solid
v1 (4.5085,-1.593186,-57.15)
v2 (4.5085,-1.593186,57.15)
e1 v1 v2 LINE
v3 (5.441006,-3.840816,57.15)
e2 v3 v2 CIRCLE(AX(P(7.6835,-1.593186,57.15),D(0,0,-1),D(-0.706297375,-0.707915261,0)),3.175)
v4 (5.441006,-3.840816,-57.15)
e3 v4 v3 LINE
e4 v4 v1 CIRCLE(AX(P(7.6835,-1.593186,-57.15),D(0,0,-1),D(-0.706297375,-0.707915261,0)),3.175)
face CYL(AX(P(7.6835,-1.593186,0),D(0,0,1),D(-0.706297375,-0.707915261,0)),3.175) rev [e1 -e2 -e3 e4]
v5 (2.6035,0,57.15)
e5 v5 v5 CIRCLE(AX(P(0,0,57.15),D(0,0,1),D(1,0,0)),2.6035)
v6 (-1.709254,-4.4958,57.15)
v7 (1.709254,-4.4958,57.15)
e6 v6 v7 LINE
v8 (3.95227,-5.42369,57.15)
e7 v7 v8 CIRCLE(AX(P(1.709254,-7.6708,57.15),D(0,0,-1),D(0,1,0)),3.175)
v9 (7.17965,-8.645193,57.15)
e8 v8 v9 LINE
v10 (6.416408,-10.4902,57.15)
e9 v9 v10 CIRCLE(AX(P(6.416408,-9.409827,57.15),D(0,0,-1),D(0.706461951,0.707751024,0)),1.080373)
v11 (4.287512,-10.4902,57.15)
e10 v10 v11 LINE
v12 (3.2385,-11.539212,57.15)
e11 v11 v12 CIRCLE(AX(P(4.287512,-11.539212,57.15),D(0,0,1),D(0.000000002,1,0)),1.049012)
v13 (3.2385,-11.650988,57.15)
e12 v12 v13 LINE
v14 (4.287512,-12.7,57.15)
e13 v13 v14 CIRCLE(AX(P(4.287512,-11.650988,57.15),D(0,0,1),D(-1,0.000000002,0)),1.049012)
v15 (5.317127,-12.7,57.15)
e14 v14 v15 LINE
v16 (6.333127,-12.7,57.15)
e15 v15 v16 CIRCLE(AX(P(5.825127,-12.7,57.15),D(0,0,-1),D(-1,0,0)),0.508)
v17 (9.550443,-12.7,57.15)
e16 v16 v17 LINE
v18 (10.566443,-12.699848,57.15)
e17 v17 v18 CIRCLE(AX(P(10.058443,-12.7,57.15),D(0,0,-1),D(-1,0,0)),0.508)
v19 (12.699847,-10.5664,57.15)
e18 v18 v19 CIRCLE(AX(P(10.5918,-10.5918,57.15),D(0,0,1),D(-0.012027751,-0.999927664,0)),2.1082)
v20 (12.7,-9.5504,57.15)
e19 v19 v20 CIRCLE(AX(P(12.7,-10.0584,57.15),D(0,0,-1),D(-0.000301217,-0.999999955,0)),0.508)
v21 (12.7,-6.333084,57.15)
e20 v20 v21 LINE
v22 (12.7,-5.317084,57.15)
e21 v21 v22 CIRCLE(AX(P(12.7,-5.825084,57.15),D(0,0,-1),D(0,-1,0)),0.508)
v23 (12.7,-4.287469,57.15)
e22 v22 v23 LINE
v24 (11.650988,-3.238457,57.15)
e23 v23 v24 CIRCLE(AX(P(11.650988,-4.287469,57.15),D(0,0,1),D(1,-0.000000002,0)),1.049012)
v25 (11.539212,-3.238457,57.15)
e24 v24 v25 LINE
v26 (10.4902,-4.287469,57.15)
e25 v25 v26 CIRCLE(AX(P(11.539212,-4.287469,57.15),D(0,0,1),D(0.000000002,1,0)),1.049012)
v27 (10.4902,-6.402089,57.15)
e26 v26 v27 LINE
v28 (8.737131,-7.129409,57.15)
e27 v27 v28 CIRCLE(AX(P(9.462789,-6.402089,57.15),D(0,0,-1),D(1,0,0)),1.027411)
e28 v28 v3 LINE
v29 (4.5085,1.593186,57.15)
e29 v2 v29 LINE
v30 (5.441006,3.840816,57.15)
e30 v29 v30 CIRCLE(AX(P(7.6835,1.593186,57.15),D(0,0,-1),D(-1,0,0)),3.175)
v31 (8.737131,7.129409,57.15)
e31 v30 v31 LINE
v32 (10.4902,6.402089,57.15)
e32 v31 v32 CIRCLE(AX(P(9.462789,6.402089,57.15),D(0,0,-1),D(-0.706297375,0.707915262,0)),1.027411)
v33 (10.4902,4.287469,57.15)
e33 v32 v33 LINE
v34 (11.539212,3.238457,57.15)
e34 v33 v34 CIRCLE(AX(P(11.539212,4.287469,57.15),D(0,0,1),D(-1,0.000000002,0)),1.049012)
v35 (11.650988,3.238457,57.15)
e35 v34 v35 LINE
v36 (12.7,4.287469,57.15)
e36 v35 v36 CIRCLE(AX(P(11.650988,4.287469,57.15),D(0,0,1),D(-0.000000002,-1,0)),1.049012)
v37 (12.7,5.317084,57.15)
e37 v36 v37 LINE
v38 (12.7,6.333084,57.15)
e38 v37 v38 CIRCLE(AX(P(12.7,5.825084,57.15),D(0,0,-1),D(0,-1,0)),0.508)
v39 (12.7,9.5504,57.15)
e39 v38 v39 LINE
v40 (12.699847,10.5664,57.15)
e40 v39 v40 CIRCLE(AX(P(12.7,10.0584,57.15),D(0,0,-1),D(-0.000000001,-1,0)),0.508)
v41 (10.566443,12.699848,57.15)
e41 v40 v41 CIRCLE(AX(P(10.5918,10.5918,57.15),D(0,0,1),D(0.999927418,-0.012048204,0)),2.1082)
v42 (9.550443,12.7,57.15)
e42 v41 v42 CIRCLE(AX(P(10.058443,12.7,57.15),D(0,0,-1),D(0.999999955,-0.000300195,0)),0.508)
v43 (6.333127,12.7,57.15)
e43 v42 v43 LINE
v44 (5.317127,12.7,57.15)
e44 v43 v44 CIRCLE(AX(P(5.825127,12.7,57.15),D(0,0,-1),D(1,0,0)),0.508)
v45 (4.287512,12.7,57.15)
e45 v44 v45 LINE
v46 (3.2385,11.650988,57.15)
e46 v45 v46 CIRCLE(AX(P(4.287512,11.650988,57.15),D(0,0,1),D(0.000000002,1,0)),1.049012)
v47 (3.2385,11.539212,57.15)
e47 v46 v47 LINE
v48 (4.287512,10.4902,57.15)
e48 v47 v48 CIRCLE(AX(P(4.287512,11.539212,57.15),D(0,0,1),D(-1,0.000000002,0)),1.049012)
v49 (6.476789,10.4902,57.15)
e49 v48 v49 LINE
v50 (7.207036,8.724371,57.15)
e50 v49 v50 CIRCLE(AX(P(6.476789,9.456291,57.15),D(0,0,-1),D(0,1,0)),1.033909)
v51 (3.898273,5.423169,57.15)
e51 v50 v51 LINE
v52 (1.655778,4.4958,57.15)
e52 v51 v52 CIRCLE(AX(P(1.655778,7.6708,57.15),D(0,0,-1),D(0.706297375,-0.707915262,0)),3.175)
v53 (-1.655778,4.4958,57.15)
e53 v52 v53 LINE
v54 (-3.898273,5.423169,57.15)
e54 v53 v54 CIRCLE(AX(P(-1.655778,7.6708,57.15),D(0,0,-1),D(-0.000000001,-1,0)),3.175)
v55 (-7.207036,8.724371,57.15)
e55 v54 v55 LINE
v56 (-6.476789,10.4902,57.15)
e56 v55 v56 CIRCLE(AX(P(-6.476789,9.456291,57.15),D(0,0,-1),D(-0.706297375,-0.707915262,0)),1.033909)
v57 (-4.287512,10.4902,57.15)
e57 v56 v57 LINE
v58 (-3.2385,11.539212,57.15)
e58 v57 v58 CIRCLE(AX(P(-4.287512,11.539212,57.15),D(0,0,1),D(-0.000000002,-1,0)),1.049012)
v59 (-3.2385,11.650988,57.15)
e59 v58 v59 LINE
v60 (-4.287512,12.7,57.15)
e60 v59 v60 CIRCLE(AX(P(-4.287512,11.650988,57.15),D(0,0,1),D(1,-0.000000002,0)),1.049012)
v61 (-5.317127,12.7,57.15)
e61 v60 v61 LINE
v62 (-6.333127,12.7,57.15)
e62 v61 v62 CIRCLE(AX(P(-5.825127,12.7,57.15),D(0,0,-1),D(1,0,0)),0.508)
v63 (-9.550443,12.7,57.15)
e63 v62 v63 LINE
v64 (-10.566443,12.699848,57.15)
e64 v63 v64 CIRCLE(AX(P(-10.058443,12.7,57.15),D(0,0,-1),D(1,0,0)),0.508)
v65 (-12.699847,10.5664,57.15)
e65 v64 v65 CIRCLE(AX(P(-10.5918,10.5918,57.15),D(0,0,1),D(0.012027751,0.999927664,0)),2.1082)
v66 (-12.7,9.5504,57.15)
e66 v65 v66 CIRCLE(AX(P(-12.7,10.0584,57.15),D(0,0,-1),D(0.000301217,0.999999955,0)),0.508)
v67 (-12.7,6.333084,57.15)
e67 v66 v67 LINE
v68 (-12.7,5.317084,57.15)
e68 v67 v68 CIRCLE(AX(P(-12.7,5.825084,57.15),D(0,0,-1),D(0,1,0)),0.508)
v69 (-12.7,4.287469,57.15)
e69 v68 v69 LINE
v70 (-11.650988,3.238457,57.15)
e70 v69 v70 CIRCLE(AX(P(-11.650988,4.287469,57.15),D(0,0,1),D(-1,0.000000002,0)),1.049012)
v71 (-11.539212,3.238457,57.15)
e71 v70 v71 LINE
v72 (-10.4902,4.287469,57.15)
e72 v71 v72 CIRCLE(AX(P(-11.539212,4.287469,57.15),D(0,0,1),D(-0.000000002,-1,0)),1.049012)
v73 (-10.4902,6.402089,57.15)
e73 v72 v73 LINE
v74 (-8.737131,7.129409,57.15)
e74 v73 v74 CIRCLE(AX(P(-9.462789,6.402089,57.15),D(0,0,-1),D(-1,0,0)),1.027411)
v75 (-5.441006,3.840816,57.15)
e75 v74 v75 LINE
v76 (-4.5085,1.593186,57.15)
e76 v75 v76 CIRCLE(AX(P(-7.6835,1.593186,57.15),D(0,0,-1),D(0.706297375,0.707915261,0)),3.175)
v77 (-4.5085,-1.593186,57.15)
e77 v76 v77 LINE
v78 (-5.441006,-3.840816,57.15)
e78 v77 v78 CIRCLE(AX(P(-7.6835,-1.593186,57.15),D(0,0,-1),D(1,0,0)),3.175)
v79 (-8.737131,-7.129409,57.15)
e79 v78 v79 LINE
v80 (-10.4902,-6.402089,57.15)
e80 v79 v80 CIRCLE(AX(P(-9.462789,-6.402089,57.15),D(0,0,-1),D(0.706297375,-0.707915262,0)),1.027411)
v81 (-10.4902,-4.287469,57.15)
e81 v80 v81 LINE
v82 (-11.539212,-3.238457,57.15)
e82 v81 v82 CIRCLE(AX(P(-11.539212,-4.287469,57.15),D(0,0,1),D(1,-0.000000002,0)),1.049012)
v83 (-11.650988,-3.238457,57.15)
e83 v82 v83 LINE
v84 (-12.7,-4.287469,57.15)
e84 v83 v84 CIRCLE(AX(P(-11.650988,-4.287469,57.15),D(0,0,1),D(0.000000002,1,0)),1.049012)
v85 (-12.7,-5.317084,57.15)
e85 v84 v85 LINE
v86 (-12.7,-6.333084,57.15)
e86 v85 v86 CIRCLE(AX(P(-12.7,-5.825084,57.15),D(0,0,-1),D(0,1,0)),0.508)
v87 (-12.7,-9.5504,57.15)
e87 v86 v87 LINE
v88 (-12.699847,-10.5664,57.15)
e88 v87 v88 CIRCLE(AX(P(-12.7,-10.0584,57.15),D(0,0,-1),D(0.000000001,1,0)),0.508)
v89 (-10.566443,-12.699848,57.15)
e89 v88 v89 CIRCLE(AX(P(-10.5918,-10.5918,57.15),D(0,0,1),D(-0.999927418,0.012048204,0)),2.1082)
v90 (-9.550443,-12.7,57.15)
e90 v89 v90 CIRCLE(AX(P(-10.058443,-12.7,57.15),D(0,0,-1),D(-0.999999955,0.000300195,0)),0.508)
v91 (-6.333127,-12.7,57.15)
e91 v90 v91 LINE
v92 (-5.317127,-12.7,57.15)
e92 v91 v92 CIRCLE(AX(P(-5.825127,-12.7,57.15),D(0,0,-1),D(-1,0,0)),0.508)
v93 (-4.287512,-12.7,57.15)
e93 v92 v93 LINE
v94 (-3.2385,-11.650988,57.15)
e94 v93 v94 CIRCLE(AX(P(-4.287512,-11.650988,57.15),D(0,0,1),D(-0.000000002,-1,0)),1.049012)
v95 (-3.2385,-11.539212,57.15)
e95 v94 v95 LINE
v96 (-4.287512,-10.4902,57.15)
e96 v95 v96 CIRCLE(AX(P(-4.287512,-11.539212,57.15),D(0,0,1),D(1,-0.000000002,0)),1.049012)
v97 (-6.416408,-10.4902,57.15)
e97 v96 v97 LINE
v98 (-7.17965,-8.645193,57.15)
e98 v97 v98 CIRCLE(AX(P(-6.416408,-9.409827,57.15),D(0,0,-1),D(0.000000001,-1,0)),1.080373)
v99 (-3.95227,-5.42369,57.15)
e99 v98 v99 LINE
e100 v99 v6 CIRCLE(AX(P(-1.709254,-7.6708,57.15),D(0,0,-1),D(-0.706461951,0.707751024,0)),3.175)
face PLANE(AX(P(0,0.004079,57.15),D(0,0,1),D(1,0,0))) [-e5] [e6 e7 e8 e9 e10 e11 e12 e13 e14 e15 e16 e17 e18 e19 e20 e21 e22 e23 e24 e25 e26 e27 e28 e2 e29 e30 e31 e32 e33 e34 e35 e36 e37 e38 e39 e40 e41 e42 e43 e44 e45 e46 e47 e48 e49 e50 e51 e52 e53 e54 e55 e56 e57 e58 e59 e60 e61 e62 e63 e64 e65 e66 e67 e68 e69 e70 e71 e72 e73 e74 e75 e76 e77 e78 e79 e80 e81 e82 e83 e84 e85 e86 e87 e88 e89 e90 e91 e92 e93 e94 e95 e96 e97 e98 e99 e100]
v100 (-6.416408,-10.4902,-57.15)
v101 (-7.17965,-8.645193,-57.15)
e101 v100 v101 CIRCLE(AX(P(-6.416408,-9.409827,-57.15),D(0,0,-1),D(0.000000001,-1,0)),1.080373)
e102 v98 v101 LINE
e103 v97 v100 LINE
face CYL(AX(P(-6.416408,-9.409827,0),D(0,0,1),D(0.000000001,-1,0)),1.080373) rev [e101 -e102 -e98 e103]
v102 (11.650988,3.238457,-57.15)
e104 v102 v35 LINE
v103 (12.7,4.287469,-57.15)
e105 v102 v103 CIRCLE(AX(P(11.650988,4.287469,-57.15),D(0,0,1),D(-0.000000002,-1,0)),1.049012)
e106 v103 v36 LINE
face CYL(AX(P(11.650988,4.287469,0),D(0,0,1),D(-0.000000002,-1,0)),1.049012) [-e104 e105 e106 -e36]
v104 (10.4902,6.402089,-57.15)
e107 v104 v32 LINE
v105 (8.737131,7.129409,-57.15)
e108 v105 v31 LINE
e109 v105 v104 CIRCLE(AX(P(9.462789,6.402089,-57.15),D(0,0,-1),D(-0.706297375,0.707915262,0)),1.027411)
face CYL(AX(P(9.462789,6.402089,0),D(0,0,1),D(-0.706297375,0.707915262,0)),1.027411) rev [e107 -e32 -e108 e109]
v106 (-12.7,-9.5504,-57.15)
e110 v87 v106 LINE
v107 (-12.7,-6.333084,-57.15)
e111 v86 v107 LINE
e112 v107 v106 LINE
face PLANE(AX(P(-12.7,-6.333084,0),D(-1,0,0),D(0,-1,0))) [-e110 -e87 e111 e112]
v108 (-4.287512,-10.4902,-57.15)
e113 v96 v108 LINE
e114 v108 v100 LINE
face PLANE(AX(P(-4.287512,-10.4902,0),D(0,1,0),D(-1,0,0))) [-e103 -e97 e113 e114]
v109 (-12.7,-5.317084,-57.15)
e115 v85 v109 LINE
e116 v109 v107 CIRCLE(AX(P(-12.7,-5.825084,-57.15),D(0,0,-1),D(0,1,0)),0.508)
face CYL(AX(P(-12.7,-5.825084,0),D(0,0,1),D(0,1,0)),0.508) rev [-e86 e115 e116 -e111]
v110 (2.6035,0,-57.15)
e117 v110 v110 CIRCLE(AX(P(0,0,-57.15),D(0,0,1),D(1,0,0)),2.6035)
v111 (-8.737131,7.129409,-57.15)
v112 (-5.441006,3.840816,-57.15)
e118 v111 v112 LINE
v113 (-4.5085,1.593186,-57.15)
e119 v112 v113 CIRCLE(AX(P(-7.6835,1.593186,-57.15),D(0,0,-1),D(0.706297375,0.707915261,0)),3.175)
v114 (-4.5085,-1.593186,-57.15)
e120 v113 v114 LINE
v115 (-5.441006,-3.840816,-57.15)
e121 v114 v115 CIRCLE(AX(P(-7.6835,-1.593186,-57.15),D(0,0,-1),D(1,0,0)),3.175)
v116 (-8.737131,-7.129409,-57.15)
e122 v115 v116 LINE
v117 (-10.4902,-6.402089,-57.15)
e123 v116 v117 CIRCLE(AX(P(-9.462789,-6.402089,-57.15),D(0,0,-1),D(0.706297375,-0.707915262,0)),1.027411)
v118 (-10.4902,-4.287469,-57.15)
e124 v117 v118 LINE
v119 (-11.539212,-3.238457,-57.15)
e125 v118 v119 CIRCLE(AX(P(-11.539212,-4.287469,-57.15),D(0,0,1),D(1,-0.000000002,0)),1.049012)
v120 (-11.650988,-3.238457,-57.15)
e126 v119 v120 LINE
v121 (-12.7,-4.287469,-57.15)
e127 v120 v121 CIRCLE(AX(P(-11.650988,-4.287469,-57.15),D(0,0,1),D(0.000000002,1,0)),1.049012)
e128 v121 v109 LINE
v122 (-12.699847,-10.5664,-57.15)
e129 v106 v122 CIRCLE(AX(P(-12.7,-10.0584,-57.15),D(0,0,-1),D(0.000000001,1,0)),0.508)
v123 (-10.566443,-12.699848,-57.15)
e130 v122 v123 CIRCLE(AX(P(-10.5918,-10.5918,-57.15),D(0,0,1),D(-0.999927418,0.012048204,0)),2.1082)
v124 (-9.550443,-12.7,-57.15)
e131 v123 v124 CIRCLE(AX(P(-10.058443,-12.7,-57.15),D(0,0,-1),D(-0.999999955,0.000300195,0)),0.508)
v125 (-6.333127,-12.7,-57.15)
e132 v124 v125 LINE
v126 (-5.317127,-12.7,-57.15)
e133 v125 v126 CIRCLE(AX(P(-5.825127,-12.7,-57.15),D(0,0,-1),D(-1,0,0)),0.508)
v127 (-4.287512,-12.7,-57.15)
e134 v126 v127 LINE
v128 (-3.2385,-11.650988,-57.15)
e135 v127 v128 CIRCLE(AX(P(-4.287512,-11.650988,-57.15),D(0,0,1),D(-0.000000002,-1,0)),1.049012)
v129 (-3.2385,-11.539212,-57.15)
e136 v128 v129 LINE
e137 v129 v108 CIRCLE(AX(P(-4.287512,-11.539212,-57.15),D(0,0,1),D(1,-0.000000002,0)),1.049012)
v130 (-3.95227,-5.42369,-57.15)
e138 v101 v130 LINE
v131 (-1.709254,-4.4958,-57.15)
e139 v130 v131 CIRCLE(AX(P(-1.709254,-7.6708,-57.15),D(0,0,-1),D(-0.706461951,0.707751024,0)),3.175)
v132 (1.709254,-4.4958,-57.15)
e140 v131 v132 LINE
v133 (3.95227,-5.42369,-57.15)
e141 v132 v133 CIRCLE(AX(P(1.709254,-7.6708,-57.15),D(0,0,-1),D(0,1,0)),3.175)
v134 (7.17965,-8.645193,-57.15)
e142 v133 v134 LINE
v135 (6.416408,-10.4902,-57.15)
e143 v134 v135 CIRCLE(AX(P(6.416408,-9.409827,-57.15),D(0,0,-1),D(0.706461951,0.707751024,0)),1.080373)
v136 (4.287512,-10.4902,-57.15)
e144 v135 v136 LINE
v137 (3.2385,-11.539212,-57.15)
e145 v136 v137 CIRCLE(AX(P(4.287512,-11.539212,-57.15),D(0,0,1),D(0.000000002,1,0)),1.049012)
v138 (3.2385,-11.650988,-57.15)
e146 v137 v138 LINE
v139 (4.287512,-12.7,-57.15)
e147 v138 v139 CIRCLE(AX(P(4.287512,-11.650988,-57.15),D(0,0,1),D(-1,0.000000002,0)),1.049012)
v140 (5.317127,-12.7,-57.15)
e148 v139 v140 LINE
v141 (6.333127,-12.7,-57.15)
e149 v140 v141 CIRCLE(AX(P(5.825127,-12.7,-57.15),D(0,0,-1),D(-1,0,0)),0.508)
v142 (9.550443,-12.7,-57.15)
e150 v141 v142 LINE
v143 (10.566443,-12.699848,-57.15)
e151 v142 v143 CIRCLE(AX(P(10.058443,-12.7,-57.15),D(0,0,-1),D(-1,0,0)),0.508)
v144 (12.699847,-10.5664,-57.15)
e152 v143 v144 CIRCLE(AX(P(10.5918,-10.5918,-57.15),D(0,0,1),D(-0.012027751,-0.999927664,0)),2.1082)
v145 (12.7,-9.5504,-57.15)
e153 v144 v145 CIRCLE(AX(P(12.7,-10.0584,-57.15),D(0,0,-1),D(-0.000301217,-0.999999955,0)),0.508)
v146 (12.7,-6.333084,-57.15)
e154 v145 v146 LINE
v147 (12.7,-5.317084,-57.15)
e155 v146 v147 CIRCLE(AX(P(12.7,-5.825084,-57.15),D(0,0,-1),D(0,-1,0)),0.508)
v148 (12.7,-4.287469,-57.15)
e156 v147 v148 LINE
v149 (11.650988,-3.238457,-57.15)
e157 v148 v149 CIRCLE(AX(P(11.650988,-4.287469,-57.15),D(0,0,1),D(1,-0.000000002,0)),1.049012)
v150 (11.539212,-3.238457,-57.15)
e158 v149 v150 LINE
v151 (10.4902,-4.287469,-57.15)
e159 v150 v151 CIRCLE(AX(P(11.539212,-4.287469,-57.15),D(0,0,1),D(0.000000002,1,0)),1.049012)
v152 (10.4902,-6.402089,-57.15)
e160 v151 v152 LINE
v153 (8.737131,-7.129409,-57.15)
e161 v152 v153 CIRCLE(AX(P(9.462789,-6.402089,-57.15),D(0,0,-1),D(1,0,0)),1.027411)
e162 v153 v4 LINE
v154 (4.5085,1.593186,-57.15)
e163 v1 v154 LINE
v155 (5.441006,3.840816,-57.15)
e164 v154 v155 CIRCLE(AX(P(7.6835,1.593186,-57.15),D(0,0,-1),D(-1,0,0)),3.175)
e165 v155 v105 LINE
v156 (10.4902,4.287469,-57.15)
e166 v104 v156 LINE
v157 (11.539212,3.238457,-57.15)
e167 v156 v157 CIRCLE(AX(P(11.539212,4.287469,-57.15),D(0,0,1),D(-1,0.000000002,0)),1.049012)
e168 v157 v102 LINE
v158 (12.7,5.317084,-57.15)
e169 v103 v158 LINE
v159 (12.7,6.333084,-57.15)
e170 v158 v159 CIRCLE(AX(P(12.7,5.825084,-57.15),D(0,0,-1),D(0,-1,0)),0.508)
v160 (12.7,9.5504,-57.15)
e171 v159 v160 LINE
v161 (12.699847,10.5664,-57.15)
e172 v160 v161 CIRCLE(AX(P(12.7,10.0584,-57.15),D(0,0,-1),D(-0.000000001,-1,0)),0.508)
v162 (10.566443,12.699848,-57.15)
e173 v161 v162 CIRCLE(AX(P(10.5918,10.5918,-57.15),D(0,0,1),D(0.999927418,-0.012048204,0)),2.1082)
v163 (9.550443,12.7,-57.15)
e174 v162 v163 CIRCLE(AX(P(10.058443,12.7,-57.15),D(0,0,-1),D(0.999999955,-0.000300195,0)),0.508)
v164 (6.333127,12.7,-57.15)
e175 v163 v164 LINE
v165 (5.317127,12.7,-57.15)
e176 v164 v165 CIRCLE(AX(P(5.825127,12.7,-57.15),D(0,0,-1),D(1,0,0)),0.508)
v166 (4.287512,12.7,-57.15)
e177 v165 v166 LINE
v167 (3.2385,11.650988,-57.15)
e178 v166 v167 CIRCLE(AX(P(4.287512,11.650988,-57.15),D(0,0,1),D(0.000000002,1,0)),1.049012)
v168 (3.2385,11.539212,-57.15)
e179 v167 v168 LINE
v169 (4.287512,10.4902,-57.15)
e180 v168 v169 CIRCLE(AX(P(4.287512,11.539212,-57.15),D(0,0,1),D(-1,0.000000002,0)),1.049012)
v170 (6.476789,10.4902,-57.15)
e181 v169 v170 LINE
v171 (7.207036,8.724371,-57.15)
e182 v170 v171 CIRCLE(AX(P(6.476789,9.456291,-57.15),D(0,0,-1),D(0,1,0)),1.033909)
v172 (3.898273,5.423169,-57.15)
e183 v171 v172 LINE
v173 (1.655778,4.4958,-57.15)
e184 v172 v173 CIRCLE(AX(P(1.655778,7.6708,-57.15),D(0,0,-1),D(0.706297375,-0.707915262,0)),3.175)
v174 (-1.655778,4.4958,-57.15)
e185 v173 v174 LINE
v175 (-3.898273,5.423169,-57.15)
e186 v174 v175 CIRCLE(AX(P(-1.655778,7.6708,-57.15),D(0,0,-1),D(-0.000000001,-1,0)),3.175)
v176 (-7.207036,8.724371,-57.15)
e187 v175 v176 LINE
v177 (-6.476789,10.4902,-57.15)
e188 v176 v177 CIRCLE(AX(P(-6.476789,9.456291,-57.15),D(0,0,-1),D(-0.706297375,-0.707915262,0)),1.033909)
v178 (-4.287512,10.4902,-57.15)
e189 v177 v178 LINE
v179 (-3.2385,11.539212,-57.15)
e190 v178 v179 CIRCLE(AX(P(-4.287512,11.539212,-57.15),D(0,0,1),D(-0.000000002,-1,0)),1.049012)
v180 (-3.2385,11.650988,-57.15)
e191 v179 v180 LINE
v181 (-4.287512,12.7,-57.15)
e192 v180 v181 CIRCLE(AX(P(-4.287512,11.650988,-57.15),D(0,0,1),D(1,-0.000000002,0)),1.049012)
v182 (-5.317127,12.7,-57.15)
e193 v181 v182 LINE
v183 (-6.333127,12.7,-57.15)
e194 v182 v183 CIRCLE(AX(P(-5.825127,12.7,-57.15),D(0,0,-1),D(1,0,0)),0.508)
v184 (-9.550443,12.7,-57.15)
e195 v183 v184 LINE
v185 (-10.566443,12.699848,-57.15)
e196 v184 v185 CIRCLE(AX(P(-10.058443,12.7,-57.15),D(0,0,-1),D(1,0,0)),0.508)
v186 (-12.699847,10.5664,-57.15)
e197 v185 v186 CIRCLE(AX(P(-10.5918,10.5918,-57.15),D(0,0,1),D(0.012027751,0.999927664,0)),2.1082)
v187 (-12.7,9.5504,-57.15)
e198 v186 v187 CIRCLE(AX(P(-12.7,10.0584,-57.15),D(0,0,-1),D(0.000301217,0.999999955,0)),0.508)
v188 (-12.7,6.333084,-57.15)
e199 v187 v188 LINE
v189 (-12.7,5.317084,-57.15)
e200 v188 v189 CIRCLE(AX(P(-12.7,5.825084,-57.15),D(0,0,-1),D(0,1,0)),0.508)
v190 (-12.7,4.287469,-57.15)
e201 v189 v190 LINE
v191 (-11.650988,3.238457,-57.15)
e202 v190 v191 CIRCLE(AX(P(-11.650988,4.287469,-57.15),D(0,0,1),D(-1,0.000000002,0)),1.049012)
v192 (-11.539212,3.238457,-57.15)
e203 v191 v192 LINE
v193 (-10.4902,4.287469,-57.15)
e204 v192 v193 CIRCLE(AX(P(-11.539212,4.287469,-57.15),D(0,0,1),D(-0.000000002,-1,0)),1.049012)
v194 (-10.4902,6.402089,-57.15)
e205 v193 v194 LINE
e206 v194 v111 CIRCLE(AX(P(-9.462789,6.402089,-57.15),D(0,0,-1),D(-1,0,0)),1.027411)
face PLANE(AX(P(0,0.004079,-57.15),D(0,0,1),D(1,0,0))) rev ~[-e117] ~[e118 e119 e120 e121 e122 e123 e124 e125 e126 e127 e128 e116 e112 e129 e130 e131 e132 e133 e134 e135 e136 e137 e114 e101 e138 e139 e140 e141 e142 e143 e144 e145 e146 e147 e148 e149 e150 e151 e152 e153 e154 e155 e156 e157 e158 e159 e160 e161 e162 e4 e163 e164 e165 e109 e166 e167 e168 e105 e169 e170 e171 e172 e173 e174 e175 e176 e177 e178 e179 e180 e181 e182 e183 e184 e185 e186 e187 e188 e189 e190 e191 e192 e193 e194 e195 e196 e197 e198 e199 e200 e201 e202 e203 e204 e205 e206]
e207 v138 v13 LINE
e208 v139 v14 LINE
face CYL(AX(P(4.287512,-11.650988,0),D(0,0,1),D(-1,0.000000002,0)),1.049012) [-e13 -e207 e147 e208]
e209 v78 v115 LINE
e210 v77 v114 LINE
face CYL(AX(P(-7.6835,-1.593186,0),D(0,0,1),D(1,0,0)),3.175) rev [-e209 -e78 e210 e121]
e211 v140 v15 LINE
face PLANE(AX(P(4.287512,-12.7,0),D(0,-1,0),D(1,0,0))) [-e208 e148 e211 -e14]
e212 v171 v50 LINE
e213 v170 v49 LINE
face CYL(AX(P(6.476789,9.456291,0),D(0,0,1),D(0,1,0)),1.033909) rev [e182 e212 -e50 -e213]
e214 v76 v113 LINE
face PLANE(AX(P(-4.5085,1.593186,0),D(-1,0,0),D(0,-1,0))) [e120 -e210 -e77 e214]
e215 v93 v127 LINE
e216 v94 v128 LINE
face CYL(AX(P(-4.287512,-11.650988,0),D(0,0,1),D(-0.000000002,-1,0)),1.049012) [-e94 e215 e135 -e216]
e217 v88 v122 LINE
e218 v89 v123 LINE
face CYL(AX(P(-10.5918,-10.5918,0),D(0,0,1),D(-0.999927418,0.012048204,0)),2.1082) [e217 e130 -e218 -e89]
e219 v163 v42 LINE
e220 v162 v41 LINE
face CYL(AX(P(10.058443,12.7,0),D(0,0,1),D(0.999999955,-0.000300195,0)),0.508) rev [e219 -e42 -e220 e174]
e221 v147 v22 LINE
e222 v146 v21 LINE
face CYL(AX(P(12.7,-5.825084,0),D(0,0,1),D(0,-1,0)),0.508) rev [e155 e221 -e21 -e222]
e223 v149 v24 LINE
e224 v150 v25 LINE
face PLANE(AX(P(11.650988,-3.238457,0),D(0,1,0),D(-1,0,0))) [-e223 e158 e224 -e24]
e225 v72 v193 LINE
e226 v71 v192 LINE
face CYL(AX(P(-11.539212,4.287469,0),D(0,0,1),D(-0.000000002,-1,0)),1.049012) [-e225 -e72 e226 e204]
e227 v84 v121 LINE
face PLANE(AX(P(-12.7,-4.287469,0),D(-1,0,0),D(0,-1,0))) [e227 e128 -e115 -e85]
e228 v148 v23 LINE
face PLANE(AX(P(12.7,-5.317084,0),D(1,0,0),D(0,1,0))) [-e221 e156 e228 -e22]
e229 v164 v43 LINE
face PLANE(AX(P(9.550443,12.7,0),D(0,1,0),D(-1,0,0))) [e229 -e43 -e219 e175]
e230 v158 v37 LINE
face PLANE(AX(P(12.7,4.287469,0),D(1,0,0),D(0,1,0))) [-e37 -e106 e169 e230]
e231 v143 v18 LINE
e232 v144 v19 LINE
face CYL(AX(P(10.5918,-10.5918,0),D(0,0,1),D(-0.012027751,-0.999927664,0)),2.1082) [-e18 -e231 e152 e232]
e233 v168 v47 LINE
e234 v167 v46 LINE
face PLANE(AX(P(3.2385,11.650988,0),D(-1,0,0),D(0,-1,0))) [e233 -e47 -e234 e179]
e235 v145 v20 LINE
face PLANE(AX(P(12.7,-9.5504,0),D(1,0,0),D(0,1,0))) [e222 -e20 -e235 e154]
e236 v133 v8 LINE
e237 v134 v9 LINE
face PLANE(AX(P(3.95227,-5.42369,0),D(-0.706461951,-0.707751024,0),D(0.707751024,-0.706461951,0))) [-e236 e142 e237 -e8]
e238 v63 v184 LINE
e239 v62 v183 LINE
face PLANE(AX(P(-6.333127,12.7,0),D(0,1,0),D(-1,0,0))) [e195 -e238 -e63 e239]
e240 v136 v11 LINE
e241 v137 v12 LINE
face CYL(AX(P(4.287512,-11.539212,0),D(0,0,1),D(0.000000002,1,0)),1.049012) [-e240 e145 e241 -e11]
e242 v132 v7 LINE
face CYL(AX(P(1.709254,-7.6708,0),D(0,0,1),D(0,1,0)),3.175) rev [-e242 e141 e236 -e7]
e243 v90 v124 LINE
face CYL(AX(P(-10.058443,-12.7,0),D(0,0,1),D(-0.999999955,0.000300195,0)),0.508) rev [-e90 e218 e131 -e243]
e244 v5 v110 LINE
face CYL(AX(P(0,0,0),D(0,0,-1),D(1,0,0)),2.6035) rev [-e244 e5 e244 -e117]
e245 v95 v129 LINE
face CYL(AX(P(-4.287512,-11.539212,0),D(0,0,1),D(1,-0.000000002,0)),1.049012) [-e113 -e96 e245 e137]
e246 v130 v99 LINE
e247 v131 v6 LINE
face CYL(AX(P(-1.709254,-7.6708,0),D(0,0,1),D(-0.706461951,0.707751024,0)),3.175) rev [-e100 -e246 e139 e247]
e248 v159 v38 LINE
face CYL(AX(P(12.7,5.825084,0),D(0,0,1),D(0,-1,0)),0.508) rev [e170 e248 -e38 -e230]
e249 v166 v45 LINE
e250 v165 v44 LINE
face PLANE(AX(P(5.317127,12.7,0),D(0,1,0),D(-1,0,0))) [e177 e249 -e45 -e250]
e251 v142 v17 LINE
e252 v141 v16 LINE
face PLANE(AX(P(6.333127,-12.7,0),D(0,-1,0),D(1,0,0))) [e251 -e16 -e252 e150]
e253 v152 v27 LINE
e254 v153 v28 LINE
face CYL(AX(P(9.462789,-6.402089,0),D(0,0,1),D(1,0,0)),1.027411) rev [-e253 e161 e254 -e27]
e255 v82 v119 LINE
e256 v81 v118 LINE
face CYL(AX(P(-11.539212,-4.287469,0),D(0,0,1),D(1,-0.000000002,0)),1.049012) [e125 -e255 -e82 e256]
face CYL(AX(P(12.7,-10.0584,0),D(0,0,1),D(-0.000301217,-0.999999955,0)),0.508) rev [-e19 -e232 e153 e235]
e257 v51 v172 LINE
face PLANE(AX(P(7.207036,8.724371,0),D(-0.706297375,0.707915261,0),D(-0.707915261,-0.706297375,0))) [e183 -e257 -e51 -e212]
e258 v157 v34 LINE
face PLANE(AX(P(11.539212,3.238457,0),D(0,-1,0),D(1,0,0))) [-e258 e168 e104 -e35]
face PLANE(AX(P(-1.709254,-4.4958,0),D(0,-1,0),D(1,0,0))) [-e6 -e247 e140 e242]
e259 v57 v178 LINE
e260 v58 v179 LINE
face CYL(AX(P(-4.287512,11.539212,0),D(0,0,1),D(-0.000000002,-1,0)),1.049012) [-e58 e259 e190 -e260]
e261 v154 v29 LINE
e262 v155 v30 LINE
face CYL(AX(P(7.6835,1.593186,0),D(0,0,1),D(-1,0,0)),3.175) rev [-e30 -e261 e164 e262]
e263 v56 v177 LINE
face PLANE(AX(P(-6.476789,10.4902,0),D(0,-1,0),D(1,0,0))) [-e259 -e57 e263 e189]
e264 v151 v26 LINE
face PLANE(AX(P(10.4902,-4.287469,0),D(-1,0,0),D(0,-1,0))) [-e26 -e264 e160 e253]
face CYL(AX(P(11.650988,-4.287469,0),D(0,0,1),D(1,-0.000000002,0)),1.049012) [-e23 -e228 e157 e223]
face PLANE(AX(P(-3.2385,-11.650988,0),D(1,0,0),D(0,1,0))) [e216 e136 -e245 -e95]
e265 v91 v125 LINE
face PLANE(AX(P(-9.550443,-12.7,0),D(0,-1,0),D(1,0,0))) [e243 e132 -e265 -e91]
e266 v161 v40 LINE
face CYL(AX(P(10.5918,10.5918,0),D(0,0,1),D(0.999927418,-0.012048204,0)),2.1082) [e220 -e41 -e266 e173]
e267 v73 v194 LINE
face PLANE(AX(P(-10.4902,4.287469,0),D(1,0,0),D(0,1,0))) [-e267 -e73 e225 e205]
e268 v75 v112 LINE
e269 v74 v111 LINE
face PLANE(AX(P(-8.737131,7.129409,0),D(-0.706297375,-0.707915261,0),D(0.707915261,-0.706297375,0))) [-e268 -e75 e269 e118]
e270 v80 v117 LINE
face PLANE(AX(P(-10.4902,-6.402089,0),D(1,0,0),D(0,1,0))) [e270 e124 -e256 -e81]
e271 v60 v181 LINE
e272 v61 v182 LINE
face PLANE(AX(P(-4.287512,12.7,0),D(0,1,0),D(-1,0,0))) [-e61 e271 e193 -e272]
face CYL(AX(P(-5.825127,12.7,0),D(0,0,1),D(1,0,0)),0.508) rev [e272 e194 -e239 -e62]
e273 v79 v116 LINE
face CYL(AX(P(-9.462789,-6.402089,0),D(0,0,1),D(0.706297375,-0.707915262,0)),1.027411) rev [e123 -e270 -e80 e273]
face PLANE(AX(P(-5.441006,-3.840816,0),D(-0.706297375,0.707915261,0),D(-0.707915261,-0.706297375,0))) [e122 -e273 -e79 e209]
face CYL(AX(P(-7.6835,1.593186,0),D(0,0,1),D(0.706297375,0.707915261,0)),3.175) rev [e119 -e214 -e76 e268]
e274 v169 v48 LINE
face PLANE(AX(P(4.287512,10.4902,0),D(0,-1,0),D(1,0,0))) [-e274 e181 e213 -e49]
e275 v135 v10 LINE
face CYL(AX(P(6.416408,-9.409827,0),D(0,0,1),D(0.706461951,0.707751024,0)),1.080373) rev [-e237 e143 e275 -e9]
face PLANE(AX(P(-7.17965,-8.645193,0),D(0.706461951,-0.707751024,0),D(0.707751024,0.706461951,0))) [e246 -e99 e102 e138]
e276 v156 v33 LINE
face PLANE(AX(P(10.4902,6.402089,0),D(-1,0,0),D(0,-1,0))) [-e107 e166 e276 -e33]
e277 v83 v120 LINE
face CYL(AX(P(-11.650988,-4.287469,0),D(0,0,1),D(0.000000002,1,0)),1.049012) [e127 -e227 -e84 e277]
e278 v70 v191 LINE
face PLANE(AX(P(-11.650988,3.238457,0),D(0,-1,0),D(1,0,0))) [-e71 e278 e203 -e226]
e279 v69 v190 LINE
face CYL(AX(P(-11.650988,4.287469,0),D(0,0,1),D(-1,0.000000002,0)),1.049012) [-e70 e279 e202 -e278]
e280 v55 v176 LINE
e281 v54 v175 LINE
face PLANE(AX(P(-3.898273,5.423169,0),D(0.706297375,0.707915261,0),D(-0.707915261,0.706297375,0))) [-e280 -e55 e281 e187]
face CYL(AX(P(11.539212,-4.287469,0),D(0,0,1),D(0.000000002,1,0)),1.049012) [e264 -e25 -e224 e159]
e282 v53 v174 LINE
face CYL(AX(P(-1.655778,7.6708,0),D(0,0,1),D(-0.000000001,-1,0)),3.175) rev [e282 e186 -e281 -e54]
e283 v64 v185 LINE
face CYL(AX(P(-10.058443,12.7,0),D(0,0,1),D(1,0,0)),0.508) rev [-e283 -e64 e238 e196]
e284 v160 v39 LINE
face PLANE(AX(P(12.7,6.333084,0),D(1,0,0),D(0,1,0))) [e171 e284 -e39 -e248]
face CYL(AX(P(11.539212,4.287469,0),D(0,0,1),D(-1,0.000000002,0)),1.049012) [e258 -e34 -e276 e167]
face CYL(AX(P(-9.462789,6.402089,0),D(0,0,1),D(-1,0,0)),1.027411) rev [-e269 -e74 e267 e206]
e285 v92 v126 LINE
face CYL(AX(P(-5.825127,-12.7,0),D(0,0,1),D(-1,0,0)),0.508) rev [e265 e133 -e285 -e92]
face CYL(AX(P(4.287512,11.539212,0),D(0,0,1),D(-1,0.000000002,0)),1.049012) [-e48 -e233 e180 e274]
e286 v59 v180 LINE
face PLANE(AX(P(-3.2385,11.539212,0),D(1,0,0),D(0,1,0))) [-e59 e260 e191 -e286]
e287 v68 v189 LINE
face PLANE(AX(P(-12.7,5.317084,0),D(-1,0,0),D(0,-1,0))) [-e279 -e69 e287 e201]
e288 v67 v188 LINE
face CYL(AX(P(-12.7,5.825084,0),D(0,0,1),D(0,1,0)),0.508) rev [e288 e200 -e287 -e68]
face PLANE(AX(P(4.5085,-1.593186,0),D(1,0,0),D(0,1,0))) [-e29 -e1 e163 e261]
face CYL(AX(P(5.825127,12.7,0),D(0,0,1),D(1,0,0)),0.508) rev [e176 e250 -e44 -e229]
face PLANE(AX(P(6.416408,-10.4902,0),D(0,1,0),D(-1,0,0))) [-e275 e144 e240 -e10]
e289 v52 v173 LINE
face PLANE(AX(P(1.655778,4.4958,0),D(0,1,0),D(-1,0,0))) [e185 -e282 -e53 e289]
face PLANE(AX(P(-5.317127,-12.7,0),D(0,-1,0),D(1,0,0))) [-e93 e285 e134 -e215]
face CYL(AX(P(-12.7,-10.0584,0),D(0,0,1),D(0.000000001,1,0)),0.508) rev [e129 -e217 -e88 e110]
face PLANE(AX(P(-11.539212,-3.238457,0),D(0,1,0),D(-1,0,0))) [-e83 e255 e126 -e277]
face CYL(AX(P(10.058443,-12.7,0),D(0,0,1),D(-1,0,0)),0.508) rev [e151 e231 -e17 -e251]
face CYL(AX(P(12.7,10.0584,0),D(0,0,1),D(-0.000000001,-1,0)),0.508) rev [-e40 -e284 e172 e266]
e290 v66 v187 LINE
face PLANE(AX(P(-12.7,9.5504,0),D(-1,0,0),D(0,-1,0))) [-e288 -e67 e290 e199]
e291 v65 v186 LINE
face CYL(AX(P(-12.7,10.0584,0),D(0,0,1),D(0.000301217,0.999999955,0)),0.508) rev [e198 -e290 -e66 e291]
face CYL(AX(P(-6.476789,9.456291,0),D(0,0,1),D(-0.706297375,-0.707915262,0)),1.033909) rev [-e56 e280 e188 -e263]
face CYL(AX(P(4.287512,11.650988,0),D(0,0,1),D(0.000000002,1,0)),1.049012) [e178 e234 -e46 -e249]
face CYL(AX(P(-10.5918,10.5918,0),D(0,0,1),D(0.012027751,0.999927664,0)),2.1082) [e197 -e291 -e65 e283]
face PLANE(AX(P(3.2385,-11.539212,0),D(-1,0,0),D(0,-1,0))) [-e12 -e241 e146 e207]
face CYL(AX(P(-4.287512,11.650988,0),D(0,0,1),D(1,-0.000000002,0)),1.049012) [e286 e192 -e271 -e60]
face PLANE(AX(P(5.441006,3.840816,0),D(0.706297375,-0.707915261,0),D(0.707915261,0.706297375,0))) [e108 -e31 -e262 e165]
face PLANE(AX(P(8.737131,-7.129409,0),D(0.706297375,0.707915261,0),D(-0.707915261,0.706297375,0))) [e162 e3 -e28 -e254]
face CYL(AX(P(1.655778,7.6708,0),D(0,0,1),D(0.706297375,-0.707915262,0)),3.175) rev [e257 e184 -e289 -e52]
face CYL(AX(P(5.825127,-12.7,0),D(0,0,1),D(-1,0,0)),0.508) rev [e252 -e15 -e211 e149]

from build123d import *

# Parameters (mm, degrees)
SKETCH1_R           = 2.6035
BOSS_EXTRUDE1_DEPTH = 57.15


with BuildPart() as part:
    # Sketch1 → Boss-Extrude1 (new body, symmetric)
    with BuildSketch(Plane.XY):
        with BuildLine():
            Line((-7.179650497, -8.645192506), (-3.952270251, -5.423690499))
            ThreePointArc((-3.952270251, -5.423690499), (-2.922936451, -4.736929036), (-1.709253557, -4.4958))
            Line((-1.709253557, -4.4958), (1.709253557, -4.4958))
            ThreePointArc((1.709253557, -4.4958), (2.922936451, -4.736929036), (3.952270251, -5.423690499))
            Line((3.952270251, -5.423690499), (7.179650497, -8.645192506))
            ThreePointArc((7.179650497, -8.645192506), (7.41473083, -9.822813117), (6.416408329, -10.4902))
            Line((6.416408329, -10.4902), (4.287512407, -10.4902))
            ThreePointArc((4.287512407, -10.4902), (3.54574862, -10.79744862), (3.2385, -11.539212407))
            Line((3.2385, -11.539212407), (3.2385, -11.650987593))
            ThreePointArc((3.2385, -11.650987593), (3.54574862, -12.39275138), (4.287512407, -12.7))
            Line((4.287512407, -12.7), (5.317126718, -12.7))
            ThreePointArc((5.317126718, -12.7), (5.825126718, -12.192), (6.333126718, -12.7))
            Line((6.333126718, -12.7), (9.550443118, -12.7))
            ThreePointArc((9.550443118, -12.7), (10.058366869, -12.192000006), (10.566443095, -12.699847501))
            ThreePointArc((10.566443095, -12.699847501), (12.082537762, -12.08250727), (12.699846982, -10.566399977))
            ThreePointArc((12.699846982, -10.566399977), (12.192000006, -10.058323491), (12.7, -9.5504))
            Line((12.7, -9.5504), (12.7, -6.3330836))
            ThreePointArc((12.7, -6.3330836), (12.192, -5.8250836), (12.7, -5.3170836))
            Line((12.7, -5.3170836), (12.7, -4.287469289))
            ThreePointArc((12.7, -4.287469289), (12.39275138, -3.545705502), (11.650987593, -3.238456882))
            Line((11.650987593, -3.238456882), (11.539212407, -3.238456882))
            ThreePointArc((11.539212407, -3.238456882), (10.79744862, -3.545705502), (10.4902, -4.287469289))
            Line((10.4902, -4.287469289), (10.4902, -6.402089023))
            ThreePointArc((10.4902, -6.402089023), (9.856505071, -7.351067942), (8.737131347, -7.129408934))
            Line((8.737131347, -7.129408934), (5.441005833, -3.840816462))
            ThreePointArc((5.441005833, -3.840816462), (4.750877967, -2.809883091), (4.5085, -1.593185507))
            Line((4.5085, -1.593185507), (4.5085, 1.593185507))
            ThreePointArc((4.5085, 1.593185507), (4.750877967, 2.809883091), (5.441005833, 3.840816462))
            Line((5.441005833, 3.840816462), (8.737131347, 7.129408934))
            ThreePointArc((8.737131347, 7.129408934), (9.856505071, 7.351067942), (10.4902, 6.402089023))
            Line((10.4902, 6.402089023), (10.4902, 4.287469289))
            ThreePointArc((10.4902, 4.287469289), (10.79744862, 3.545705502), (11.539212407, 3.238456882))
            Line((11.539212407, 3.238456882), (11.650987593, 3.238456882))
            ThreePointArc((11.650987593, 3.238456882), (12.39275138, 3.545705502), (12.7, 4.287469289))
            Line((12.7, 4.287469289), (12.7, 5.3170836))
            ThreePointArc((12.7, 5.3170836), (12.192, 5.8250836), (12.7, 6.3330836))
            Line((12.7, 6.3330836), (12.7, 9.5504))
            ThreePointArc((12.7, 9.5504), (12.192000006, 10.058323491), (12.699846982, 10.566399977))
            ThreePointArc((12.699846982, 10.566399977), (12.082537762, 12.08250727), (10.566443095, 12.699847501))
            ThreePointArc((10.566443095, 12.699847501), (10.058366869, 12.192000006), (9.550443118, 12.7))
            Line((9.550443118, 12.7), (6.333126718, 12.7))
            ThreePointArc((6.333126718, 12.7), (5.825126718, 12.192), (5.317126718, 12.7))
            Line((5.317126718, 12.7), (4.287512407, 12.7))
            ThreePointArc((4.287512407, 12.7), (3.54574862, 12.39275138), (3.2385, 11.650987593))
            Line((3.2385, 11.650987593), (3.2385, 11.539212407))
            ThreePointArc((3.2385, 11.539212407), (3.54574862, 10.79744862), (4.287512407, 10.4902))
            Line((4.287512407, 10.4902), (6.476788598, 10.4902))
            ThreePointArc((6.476788598, 10.4902), (7.432222385, 9.85140422), (7.207036008, 8.724370562))
            Line((7.207036008, 8.724370562), (3.898272566, 5.423169045))
            ThreePointArc((3.898272566, 5.423169045), (2.869120213, 4.736787962), (1.655778399, 4.4958))
            Line((1.655778399, 4.4958), (-1.655778399, 4.4958))
            ThreePointArc((-1.655778399, 4.4958), (-2.869120213, 4.736787962), (-3.898272566, 5.423169045))
            Line((-3.898272566, 5.423169045), (-7.207036008, 8.724370562))
            ThreePointArc((-7.207036008, 8.724370562), (-7.432222385, 9.85140422), (-6.476788598, 10.4902))
            Line((-6.476788598, 10.4902), (-4.287512407, 10.4902))
            ThreePointArc((-4.287512407, 10.4902), (-3.54574862, 10.79744862), (-3.2385, 11.539212407))
            Line((-3.2385, 11.539212407), (-3.2385, 11.650987593))
            ThreePointArc((-3.2385, 11.650987593), (-3.54574862, 12.39275138), (-4.287512407, 12.7))
            Line((-4.287512407, 12.7), (-5.317126718, 12.7))
            ThreePointArc((-5.317126718, 12.7), (-5.825126718, 12.192), (-6.333126718, 12.7))
            Line((-6.333126718, 12.7), (-9.550443118, 12.7))
            ThreePointArc((-9.550443118, 12.7), (-10.058366869, 12.192000006), (-10.566443095, 12.699847501))
            ThreePointArc((-10.566443095, 12.699847501), (-12.082537762, 12.08250727), (-12.699846982, 10.566399977))
            ThreePointArc((-12.699846982, 10.566399977), (-12.192000006, 10.058323491), (-12.7, 9.5504))
            Line((-12.7, 9.5504), (-12.7, 6.3330836))
            ThreePointArc((-12.7, 6.3330836), (-12.192, 5.8250836), (-12.7, 5.3170836))
            Line((-12.7, 5.3170836), (-12.7, 4.287469289))
            ThreePointArc((-12.7, 4.287469289), (-12.39275138, 3.545705502), (-11.650987593, 3.238456882))
            Line((-11.650987593, 3.238456882), (-11.539212407, 3.238456882))
            ThreePointArc((-11.539212407, 3.238456882), (-10.79744862, 3.545705502), (-10.4902, 4.287469289))
            Line((-10.4902, 4.287469289), (-10.4902, 6.402089023))
            ThreePointArc((-10.4902, 6.402089023), (-9.856505071, 7.351067942), (-8.737131347, 7.129408934))
            Line((-8.737131347, 7.129408934), (-5.441005833, 3.840816462))
            ThreePointArc((-5.441005833, 3.840816462), (-4.750877967, 2.809883091), (-4.5085, 1.593185507))
            Line((-4.5085, 1.593185507), (-4.5085, -1.593185507))
            ThreePointArc((-4.5085, -1.593185507), (-4.750877967, -2.809883091), (-5.441005833, -3.840816462))
            Line((-5.441005833, -3.840816462), (-8.737131347, -7.129408934))
            ThreePointArc((-8.737131347, -7.129408934), (-9.856505071, -7.351067942), (-10.4902, -6.402089023))
            Line((-10.4902, -6.402089023), (-10.4902, -4.287469289))
            ThreePointArc((-10.4902, -4.287469289), (-10.79744862, -3.545705502), (-11.539212407, -3.238456882))
            Line((-11.539212407, -3.238456882), (-11.650987593, -3.238456882))
            ThreePointArc((-11.650987593, -3.238456882), (-12.39275138, -3.545705502), (-12.7, -4.287469289))
            Line((-12.7, -4.287469289), (-12.7, -5.3170836))
            ThreePointArc((-12.7, -5.3170836), (-12.192, -5.8250836), (-12.7, -6.3330836))
            Line((-12.7, -6.3330836), (-12.7, -9.5504))
            ThreePointArc((-12.7, -9.5504), (-12.192000006, -10.058323491), (-12.699846982, -10.566399977))
            ThreePointArc((-12.699846982, -10.566399977), (-12.082537762, -12.08250727), (-10.566443095, -12.699847501))
            ThreePointArc((-10.566443095, -12.699847501), (-10.058366869, -12.192000006), (-9.550443118, -12.7))
            Line((-9.550443118, -12.7), (-6.333126718, -12.7))
            ThreePointArc((-6.333126718, -12.7), (-5.825126718, -12.192), (-5.317126718, -12.7))
            Line((-5.317126718, -12.7), (-4.287512407, -12.7))
            ThreePointArc((-4.287512407, -12.7), (-3.54574862, -12.39275138), (-3.2385, -11.650987593))
            Line((-3.2385, -11.650987593), (-3.2385, -11.539212407))
            ThreePointArc((-3.2385, -11.539212407), (-3.54574862, -10.79744862), (-4.287512407, -10.4902))
            Line((-4.287512407, -10.4902), (-6.416408329, -10.4902))
            ThreePointArc((-6.416408329, -10.4902), (-7.41473083, -9.822813117), (-7.179650497, -8.645192506))
        make_face()
        Circle(SKETCH1_R, mode=Mode.SUBTRACT)
    extrude(amount=BOSS_EXTRUDE1_DEPTH, both=True)


solid = part.part
